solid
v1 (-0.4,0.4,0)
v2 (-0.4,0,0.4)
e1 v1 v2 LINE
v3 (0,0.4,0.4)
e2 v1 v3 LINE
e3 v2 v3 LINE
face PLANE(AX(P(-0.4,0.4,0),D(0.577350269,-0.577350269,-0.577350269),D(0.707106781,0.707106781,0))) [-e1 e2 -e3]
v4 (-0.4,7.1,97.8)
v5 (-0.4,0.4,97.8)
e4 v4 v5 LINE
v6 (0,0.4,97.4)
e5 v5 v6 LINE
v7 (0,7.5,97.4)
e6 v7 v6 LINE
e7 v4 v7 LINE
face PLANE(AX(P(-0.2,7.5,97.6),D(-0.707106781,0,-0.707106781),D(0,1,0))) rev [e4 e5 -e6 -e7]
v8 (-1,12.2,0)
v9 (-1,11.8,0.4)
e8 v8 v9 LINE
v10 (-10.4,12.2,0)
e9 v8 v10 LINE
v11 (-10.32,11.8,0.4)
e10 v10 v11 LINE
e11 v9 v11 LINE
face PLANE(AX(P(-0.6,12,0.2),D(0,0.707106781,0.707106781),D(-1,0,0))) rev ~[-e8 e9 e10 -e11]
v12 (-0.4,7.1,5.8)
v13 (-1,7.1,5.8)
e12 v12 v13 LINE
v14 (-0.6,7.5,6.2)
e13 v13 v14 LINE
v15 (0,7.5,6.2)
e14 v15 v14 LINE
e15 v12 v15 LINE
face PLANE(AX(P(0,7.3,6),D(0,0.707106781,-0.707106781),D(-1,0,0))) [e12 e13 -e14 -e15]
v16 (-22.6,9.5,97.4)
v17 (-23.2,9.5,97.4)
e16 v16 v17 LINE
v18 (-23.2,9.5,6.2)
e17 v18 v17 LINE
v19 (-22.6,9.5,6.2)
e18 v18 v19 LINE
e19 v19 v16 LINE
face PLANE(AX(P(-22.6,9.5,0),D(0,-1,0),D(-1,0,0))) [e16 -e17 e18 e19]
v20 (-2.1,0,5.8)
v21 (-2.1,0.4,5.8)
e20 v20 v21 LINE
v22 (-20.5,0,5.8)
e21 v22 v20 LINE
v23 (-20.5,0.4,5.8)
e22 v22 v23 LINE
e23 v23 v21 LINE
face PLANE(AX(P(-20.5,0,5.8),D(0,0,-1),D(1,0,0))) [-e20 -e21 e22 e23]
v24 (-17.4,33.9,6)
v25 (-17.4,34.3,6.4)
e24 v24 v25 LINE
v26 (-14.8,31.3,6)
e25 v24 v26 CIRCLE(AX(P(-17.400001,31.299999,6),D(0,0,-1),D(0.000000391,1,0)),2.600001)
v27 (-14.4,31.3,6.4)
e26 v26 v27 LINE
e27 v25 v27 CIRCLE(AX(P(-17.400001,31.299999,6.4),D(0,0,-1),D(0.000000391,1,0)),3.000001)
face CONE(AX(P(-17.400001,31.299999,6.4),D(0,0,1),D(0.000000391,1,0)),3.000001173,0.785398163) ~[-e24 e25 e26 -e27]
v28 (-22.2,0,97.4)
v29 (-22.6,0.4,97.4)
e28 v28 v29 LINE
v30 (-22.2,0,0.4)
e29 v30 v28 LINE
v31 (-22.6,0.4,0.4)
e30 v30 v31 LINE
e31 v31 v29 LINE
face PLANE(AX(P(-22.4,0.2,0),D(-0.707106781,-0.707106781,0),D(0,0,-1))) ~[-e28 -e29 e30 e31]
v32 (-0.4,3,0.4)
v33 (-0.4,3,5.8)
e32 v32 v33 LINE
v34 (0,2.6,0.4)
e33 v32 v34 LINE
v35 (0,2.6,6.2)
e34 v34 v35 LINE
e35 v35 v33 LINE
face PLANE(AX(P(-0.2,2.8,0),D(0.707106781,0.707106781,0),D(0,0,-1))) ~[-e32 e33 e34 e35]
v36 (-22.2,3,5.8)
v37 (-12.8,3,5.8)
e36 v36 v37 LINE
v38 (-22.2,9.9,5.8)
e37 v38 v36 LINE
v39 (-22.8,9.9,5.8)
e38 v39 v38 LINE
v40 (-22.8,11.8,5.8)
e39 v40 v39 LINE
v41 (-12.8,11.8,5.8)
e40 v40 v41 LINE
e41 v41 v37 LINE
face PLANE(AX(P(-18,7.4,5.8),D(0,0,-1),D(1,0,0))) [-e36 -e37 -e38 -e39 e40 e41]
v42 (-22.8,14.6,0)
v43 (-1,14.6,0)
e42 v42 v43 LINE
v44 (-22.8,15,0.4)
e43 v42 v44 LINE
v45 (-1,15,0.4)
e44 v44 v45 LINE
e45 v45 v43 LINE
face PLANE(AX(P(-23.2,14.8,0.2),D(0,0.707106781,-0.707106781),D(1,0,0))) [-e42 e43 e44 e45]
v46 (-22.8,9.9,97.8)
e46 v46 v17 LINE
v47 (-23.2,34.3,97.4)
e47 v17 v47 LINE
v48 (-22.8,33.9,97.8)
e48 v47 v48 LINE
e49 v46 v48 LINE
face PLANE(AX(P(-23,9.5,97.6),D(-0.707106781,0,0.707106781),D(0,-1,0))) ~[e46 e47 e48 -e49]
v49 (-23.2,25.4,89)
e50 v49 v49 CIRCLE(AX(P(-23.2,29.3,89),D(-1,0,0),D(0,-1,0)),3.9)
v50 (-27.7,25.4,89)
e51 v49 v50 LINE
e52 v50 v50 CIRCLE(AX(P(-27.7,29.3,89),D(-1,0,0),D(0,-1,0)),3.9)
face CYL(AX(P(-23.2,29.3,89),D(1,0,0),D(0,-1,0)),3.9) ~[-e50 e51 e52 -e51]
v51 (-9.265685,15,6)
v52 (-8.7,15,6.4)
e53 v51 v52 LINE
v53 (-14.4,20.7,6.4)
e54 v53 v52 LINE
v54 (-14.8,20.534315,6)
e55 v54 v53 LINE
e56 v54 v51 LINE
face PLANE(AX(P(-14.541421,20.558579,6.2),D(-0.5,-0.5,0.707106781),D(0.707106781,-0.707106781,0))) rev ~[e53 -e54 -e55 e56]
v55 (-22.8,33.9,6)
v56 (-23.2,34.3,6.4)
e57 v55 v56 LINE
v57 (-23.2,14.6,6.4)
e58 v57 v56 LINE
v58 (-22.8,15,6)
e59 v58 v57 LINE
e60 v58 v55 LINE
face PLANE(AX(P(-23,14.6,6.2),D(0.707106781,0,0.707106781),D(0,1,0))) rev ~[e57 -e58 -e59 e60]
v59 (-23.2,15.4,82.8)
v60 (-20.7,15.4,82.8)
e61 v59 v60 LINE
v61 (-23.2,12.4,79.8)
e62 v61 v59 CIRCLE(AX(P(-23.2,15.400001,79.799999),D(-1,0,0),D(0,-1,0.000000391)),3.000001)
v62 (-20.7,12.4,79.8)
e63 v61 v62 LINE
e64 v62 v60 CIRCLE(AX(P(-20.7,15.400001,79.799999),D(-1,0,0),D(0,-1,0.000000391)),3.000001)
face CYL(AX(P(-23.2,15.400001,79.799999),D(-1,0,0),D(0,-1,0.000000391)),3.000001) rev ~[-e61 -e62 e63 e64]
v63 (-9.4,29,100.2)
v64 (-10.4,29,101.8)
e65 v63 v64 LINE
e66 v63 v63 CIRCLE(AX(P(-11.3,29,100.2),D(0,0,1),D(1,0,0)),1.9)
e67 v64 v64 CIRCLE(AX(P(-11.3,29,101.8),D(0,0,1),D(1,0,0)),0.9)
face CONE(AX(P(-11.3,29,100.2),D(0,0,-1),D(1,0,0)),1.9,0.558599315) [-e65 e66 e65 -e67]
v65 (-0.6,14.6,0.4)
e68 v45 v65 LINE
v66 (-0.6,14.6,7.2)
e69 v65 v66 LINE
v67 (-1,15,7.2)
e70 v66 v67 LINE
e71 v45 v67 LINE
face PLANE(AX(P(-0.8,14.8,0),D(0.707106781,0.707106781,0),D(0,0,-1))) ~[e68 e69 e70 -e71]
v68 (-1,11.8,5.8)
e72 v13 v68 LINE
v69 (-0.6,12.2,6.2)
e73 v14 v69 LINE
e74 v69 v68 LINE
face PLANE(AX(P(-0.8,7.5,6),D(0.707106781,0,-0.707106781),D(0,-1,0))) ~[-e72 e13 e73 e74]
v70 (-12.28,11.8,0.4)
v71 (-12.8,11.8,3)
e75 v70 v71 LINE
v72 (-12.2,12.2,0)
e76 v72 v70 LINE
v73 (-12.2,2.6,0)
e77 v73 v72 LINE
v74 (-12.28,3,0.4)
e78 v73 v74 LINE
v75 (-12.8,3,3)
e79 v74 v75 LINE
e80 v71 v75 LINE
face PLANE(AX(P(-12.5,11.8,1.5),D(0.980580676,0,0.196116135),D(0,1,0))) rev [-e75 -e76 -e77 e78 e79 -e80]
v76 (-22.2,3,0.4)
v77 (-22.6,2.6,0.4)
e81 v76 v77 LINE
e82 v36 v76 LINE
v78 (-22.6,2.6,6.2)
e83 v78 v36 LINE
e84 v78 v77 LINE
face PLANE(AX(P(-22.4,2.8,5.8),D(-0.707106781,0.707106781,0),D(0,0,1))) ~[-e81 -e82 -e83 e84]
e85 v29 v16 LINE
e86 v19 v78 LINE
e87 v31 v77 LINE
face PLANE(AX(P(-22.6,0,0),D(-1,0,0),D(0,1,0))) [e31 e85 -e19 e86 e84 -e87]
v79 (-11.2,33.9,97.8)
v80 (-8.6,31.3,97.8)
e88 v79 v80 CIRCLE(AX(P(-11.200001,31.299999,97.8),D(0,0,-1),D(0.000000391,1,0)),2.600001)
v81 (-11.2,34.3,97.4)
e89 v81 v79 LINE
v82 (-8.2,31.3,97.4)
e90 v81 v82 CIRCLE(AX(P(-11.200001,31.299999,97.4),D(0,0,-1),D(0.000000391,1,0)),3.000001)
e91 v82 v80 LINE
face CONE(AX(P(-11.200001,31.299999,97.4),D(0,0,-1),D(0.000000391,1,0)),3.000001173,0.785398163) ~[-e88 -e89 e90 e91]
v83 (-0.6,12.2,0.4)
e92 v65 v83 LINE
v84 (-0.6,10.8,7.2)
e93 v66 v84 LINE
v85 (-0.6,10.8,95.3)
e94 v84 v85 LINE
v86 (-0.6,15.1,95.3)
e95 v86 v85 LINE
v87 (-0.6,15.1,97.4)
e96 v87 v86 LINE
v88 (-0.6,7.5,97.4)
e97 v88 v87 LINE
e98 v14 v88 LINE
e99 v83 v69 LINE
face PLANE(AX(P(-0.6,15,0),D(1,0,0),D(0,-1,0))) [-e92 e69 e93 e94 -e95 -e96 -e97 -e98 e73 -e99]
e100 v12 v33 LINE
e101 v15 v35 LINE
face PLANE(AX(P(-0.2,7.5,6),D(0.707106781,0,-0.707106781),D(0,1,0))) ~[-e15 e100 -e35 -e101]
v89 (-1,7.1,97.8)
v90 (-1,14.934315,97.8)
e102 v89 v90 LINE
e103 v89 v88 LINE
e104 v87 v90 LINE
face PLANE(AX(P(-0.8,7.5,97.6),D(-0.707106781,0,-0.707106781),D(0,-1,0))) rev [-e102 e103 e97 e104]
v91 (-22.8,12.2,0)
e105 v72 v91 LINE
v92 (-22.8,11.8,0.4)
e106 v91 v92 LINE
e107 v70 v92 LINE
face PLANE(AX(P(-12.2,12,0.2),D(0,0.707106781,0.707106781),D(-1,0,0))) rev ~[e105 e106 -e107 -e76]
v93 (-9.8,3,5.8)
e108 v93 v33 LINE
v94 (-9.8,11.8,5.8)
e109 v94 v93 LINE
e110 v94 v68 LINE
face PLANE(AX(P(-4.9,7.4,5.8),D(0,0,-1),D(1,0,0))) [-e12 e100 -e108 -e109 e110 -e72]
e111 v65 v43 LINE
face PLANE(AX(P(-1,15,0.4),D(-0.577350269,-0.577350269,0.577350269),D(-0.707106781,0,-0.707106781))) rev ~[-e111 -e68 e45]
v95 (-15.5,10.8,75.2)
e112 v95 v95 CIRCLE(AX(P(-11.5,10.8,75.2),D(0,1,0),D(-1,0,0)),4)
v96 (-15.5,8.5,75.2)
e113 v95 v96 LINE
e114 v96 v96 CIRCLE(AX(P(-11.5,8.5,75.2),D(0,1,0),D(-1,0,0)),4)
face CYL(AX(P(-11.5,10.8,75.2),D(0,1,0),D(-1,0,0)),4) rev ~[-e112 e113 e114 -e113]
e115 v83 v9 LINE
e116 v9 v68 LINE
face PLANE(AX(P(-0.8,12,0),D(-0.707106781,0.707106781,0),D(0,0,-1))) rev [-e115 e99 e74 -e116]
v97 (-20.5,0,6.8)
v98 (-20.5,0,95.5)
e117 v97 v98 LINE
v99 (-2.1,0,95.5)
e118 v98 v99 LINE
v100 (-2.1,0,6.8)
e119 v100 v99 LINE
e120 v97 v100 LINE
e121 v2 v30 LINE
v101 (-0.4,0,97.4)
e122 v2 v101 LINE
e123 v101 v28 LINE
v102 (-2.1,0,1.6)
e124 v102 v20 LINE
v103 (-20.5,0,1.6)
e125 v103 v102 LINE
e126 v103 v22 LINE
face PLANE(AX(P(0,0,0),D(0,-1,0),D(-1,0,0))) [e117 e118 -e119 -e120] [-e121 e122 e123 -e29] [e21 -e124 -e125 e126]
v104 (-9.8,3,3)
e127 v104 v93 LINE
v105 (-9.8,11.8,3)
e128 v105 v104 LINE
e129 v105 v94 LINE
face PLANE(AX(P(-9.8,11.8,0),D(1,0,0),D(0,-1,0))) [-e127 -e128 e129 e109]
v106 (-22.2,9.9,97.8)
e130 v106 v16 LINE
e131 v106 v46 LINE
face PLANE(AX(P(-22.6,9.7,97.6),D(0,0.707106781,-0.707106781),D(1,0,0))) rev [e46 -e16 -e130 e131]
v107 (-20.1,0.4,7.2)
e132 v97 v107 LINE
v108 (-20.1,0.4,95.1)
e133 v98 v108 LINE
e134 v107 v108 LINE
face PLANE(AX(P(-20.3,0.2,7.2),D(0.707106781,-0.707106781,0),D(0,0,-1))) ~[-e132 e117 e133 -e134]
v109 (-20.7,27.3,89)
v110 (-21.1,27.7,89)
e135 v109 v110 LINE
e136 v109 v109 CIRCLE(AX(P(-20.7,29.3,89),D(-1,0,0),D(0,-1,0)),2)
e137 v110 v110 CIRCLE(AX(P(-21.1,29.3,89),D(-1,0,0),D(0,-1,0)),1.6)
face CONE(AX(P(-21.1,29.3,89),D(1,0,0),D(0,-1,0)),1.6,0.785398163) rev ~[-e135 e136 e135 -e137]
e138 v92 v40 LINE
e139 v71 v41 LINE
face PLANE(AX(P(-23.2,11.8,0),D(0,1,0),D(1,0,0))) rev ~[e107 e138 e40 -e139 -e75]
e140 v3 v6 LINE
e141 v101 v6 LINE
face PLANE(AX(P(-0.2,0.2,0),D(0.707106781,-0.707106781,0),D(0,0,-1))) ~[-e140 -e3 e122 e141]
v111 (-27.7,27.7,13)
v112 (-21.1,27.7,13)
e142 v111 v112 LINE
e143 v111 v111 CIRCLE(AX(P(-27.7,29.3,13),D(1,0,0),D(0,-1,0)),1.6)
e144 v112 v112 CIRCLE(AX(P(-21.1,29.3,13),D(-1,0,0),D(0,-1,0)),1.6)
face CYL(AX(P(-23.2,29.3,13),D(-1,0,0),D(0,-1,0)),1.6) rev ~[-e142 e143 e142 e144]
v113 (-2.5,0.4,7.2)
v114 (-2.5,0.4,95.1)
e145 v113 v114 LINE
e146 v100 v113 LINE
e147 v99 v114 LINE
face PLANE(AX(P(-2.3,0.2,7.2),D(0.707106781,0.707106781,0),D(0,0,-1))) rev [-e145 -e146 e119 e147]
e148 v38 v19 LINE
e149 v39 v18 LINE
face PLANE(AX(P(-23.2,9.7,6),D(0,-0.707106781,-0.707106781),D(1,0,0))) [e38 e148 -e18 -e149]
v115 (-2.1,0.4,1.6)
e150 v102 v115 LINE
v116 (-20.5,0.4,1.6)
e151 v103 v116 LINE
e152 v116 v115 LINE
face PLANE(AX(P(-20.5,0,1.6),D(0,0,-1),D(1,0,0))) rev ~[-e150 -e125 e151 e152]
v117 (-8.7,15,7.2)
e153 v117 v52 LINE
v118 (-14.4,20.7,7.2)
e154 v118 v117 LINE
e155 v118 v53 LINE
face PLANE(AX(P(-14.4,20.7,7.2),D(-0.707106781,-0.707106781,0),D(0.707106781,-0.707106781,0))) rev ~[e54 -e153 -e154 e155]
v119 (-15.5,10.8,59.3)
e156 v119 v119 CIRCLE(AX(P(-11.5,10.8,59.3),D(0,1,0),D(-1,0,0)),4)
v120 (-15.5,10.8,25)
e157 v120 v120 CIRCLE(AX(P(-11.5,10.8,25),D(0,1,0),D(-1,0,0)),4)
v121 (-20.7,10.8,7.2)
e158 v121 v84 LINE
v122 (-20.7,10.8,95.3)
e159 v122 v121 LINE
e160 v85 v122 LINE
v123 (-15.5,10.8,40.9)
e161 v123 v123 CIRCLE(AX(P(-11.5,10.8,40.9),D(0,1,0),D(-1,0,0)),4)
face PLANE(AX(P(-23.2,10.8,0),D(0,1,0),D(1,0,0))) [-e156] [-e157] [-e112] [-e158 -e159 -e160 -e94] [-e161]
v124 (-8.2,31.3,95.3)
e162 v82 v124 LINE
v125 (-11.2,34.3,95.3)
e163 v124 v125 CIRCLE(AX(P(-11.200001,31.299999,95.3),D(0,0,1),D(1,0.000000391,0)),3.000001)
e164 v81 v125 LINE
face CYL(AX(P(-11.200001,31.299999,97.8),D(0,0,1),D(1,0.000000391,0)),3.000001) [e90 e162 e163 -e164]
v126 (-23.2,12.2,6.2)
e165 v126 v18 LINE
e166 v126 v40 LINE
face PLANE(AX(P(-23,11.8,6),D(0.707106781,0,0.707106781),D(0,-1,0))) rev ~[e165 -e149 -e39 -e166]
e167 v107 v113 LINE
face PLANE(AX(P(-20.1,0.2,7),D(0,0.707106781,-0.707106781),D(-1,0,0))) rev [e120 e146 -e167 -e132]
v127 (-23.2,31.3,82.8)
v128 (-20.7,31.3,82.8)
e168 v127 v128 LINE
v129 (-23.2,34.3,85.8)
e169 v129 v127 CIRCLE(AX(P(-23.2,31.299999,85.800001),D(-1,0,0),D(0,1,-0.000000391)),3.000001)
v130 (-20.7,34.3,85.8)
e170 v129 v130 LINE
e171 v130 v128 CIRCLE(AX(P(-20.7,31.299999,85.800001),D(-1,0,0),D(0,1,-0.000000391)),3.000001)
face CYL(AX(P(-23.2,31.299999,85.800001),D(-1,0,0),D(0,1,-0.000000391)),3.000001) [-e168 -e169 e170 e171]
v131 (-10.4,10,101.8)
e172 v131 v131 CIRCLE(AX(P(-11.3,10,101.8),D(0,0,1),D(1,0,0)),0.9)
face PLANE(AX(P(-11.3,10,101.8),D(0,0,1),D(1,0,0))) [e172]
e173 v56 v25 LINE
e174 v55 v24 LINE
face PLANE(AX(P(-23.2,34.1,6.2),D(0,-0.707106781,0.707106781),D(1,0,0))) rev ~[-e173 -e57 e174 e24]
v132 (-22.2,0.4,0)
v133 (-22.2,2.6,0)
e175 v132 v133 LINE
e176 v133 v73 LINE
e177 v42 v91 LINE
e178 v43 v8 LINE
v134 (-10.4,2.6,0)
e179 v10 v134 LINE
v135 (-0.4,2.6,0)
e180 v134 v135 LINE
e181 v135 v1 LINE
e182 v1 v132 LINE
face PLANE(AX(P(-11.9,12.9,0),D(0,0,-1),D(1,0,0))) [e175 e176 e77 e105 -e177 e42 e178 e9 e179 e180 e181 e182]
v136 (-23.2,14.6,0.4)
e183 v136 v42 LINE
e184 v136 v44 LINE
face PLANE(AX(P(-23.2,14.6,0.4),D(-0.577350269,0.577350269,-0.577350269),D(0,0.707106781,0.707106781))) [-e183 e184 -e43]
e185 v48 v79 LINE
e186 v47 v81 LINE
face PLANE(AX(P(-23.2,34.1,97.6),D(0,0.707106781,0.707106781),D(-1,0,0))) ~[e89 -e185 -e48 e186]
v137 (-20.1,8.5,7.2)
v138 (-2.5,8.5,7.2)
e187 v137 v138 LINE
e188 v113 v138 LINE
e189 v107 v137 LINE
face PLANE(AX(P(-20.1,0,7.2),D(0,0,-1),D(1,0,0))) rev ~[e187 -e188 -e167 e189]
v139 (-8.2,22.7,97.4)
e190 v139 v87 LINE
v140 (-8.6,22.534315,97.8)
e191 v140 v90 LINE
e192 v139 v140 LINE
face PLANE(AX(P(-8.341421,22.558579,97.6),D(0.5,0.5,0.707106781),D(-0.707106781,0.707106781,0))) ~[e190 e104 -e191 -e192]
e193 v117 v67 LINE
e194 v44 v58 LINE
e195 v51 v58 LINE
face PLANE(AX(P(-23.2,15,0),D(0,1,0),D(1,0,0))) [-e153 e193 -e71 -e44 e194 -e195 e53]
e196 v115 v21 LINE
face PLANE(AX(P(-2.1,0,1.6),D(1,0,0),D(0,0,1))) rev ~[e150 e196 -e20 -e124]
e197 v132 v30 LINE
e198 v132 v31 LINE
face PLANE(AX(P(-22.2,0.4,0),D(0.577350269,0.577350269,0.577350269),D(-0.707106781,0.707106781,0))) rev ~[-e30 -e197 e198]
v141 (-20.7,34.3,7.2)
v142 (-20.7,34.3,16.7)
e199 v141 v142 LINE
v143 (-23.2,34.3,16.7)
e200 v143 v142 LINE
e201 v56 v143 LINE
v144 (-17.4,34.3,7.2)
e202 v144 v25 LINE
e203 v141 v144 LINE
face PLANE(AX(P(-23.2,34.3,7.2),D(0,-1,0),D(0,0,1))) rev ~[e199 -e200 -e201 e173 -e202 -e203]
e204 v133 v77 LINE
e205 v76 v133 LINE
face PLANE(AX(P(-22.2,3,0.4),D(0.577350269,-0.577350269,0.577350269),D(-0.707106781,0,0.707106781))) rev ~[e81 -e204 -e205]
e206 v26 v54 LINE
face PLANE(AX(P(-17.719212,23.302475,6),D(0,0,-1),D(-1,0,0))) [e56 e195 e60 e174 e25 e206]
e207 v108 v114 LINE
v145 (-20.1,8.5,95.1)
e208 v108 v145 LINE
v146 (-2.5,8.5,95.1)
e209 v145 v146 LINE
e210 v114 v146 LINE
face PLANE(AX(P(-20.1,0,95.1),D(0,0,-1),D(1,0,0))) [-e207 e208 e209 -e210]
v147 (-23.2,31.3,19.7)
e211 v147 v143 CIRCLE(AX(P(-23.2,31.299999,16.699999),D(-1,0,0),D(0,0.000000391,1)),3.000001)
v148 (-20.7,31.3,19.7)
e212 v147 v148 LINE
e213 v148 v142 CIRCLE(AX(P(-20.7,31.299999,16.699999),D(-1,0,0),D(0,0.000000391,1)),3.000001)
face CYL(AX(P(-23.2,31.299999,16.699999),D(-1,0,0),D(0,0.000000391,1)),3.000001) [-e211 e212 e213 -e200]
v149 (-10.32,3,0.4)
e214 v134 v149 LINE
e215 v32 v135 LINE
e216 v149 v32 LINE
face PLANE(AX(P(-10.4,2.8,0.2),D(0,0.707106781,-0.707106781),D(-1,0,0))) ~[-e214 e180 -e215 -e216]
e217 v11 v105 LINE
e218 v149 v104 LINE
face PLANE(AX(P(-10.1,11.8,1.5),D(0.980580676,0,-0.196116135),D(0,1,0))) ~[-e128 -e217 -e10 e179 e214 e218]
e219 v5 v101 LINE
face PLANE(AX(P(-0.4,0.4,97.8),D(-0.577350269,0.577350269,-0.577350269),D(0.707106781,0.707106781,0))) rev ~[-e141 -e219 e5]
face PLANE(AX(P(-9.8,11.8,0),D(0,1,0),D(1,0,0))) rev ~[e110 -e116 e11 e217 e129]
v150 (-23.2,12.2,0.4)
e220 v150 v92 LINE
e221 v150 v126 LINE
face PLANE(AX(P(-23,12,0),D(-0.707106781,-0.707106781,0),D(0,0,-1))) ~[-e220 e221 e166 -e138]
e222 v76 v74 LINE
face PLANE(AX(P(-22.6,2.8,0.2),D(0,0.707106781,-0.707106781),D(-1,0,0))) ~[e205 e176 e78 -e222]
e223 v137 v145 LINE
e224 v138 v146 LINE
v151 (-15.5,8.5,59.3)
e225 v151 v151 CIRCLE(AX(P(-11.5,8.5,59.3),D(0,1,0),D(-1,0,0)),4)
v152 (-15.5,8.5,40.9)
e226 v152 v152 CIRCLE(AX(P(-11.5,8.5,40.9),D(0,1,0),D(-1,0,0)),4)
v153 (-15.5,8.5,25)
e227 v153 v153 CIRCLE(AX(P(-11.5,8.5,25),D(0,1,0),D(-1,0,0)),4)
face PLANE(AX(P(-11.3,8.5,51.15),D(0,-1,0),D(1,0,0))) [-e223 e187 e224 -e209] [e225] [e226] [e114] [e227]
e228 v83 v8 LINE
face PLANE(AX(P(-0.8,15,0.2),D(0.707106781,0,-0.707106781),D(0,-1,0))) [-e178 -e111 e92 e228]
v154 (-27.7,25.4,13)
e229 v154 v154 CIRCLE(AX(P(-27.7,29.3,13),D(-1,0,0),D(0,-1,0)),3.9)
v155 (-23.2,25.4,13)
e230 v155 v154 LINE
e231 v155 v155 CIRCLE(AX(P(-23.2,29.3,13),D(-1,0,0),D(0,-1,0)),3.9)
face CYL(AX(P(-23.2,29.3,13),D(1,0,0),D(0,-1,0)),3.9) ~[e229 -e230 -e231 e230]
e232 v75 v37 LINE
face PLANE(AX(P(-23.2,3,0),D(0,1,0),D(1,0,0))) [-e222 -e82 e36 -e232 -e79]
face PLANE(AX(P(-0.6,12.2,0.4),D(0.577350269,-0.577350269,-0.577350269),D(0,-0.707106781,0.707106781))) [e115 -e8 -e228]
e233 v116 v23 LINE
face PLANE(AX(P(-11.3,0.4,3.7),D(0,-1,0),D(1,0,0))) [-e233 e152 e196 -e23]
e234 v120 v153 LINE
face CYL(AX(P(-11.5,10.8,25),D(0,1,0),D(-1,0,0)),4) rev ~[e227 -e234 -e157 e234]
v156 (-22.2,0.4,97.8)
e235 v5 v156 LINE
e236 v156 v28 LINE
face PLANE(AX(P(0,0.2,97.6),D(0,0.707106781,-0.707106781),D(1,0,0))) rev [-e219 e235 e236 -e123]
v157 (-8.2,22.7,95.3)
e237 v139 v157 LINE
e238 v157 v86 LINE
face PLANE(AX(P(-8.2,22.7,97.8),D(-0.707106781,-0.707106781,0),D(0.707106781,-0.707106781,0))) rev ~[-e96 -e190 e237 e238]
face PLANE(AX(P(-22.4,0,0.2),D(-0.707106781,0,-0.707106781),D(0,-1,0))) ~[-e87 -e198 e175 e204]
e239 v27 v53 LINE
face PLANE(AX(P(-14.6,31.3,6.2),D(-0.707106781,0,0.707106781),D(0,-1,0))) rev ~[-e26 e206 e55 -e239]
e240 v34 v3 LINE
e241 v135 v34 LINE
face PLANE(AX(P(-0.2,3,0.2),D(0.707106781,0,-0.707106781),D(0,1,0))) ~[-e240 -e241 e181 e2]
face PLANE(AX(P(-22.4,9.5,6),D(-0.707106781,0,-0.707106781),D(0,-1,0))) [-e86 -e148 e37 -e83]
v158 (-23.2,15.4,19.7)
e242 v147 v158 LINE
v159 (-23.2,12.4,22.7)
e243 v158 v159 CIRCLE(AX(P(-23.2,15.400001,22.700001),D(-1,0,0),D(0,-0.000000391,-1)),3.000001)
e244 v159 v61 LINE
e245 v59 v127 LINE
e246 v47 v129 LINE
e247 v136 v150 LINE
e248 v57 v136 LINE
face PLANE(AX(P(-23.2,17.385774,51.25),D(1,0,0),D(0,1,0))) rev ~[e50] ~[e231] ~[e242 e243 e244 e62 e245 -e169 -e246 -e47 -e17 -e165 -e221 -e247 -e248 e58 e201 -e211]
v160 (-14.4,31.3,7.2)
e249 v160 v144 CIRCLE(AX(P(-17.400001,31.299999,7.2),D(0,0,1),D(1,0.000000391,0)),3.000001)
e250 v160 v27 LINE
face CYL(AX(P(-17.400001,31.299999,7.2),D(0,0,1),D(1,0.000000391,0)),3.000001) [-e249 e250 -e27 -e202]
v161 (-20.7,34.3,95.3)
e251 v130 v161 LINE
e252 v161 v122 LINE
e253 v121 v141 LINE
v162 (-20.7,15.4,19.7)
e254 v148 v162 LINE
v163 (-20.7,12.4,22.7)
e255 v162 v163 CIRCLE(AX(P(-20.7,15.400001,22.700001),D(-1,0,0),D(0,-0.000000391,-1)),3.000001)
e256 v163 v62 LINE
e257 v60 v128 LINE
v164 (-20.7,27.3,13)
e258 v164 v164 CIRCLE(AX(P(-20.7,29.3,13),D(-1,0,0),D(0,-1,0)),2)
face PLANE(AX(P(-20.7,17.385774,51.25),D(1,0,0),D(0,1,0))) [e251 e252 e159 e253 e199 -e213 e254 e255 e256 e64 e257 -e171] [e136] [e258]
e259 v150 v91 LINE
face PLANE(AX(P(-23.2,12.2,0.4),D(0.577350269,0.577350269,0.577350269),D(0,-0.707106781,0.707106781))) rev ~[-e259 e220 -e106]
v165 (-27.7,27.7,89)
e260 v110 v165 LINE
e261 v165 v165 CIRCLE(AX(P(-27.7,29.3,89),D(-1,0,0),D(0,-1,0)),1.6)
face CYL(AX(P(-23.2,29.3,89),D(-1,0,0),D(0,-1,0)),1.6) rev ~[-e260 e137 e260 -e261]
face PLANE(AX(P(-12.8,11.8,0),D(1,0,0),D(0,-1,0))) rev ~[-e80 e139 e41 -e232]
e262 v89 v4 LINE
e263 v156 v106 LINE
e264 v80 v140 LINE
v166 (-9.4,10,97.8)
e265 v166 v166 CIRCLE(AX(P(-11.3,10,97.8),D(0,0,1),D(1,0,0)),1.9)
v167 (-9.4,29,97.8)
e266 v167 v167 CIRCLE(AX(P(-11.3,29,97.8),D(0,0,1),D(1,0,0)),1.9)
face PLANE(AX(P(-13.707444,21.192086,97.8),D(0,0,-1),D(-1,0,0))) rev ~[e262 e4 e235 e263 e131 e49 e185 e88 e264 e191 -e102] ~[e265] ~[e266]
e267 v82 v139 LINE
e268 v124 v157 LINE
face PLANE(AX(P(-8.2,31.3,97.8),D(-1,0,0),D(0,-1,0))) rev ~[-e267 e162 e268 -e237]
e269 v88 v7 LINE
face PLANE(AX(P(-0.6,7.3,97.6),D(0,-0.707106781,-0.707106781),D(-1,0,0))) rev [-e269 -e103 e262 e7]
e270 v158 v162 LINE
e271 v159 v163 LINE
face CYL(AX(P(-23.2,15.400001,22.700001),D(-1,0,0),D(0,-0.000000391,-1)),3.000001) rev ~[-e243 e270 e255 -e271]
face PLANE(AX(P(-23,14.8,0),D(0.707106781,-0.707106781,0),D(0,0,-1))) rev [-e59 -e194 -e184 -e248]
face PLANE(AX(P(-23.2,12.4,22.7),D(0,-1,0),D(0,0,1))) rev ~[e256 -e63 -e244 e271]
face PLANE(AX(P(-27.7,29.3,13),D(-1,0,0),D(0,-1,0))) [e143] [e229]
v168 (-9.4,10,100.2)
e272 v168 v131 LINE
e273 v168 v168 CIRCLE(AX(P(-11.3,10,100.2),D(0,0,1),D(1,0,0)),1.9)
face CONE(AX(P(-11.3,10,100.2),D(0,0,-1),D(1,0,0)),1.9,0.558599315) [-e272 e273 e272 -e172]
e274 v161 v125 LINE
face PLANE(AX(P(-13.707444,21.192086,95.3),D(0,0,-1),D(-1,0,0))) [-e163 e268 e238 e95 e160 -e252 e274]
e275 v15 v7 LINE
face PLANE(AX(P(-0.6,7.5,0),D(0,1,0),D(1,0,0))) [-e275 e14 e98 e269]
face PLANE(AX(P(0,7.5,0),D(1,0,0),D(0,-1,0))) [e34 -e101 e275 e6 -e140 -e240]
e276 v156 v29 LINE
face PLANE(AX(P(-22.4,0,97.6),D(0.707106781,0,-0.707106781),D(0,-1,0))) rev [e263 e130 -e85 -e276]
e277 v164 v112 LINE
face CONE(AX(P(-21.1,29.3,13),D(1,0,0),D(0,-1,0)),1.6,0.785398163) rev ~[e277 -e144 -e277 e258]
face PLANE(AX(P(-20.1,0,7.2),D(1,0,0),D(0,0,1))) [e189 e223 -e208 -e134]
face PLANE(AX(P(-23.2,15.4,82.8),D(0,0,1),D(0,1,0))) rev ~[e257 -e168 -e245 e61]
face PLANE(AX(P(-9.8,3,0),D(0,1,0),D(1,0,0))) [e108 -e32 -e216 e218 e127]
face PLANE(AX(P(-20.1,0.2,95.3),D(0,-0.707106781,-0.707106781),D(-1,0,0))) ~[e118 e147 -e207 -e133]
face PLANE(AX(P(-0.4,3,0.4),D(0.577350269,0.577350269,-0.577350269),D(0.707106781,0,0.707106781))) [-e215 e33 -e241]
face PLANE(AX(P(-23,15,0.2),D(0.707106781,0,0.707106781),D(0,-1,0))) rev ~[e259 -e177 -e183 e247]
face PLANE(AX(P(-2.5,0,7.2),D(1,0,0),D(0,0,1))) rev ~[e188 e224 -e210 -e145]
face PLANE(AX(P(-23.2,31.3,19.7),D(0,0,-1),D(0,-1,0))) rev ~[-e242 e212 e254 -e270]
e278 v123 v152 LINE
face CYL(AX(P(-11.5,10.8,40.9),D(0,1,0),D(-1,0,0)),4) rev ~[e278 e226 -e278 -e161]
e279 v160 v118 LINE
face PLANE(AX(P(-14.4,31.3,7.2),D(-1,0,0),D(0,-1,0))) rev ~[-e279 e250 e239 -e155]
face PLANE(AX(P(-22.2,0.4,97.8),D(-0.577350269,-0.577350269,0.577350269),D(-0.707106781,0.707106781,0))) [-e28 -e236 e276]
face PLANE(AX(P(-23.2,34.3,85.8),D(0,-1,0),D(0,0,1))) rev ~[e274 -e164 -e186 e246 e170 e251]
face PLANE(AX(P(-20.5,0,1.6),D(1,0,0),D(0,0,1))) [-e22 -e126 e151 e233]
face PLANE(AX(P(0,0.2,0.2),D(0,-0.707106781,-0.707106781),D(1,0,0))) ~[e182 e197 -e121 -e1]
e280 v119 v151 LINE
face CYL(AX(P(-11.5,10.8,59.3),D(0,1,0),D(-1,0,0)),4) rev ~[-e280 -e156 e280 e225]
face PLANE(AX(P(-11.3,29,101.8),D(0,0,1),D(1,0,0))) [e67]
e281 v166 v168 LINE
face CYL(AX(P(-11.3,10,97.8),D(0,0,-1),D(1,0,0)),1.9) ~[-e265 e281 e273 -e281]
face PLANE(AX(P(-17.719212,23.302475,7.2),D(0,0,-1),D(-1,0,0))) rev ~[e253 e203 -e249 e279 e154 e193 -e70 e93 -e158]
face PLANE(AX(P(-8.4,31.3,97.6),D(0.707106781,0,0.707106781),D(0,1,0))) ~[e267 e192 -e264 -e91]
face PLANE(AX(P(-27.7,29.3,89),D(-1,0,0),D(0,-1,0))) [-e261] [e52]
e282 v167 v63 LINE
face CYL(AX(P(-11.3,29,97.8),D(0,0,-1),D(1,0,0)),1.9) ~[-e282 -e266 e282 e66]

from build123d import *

# Parameters (mm, degrees)
PAD_DEPTH          = 97.8
PAD001_DEPTH       = 2.5
SKETCH002_W        = 22.6
SKETCH002_H        = 4.2
PAD002_DEPTH       = 7.2
PAD003_DEPTH       = 1.2
PAD004_DEPTH       = 2.5
SKETCH005_W        = 10.4
SKETCH005_H        = 8.8
SKETCH005_W_2      = 9.8
POCKET_DEPTH       = 5.8
CHAMFER_SIZE2      = 3
CHAMFER_SIZE       = 0.6
CHAMFER001_SIZE2   = 3
CHAMFER001_SIZE    = 0.6
SKETCH006_R        = 3.9
PAD005_DEPTH       = 4.5
SKETCH007_R        = 1.6
POCKET001_DEPTH    = 5
SKETCH008_R        = 1.9
PAD006_DEPTH       = 4
CHAMFER002_1_SIZE2 = 1
CHAMFER002_1_SIZE  = 1.6
CHAMFER002_2_SIZE2 = 1
CHAMFER002_2_SIZE  = 1.6
SKETCH009_W        = 18.4
SKETCH009_H        = 4.2
POCKET002_DEPTH    = 0.4
SKETCH010_W        = 17.6
SKETCH010_H        = 87.9
POCKET003_DEPTH    = 8.5
CHAMFER003_SIZE    = 0.4
CHAMFER004_SIZE    = 0.4
CHAMFER005_SIZE    = 0.4
SKETCH011_R        = 4
POCKET004_DEPTH    = 5


with BuildPart() as part:
    # Sketch → Pad (new body)
    with BuildSketch(Plane.XY):
        Polygon((-22.6, 0), (-22.6, 9.5), (-23.2, 9.5), (-23.2, 10.8), (-0.6, 10.8), (-0.6, 7.5), (0, 7.5), (0, 0), align=None)
    extrude(amount=PAD_DEPTH)

    # Sketch001 (on Face10 of Pad) → Pad001 (join)
    with BuildSketch(Plane.XY.offset(97.8)):
        with BuildLine():
            Line((-23.2, 10.8), (-23.2, 34.3))
            Line((-23.2, 34.3), (-11.2, 34.3))
            ThreePointArc((-8.2, 31.3), (-9.07868, 33.42132), (-11.2, 34.3))
            Line((-8.2, 31.3), (-8.2, 22.7))
            Line((-8.2, 22.7), (-0.6, 15.1))
            Line((-0.6, 15.1), (-0.6, 10.8))
            Line((-0.6, 10.8), (-23.2, 10.8))
        make_face()
    extrude(amount=-PAD001_DEPTH)

    # Sketch002 (on Face4 of Pad001) → Pad002 (join)
    with BuildSketch(Plane(origin=(0, 0, 0), x_dir=(1, 0, 0), z_dir=(0, 0, -1))):
        with Locations((-11.9, -12.9)):
            Rectangle(SKETCH002_W, SKETCH002_H)
    extrude(amount=-PAD002_DEPTH)

    # Sketch003 (on Face22 of Pad002) → Pad003 (join)
    with BuildSketch(Plane.XY.offset(7.2)):
        with BuildLine():
            Line((-23.2, 15), (-23.2, 34.3))
            Line((-23.2, 34.3), (-17.4, 34.3))
            ThreePointArc((-14.4, 31.3), (-15.27868, 33.42132), (-17.4, 34.3))
            Line((-14.4, 31.3), (-14.4, 20.7))
            Line((-14.4, 20.7), (-8.7, 15))
            Line((-8.7, 15), (-23.2, 15))
        make_face()
    extrude(amount=-PAD003_DEPTH)

    # Sketch004 (on Face7 of Pad003) → Pad004 (join)
    with BuildSketch(Plane(origin=(-23.2, 0, 0), x_dir=(0, -1, 0), z_dir=(-1, 0, 0))):
        with BuildLine():
            Line((-34.3, 7.2), (-34.3, 16.7))
            ThreePointArc((-31.3, 19.7), (-33.42132, 18.82132), (-34.3, 16.7))
            Line((-31.3, 19.7), (-15.4, 19.7))
            ThreePointArc((-15.4, 19.7), (-13.27868, 20.57868), (-12.4, 22.7))
            Line((-12.4, 22.7), (-12.4, 79.8))
            ThreePointArc((-12.4, 79.8), (-13.27868, 81.92132), (-15.4, 82.8))
            Line((-15.4, 82.8), (-31.3, 82.8))
            ThreePointArc((-34.3, 85.8), (-33.42132, 83.67868), (-31.3, 82.8))
            Line((-34.3, 85.8), (-34.3, 95.3))
            Line((-34.3, 95.3), (-10.8, 95.3))
            Line((-10.8, 95.3), (-10.8, 7.2))
            Line((-10.8, 7.2), (-34.3, 7.2))
        make_face()
    extrude(amount=-PAD004_DEPTH)

    # Sketch005 (on Face4 of Pad004) → Pocket (cut)
    with BuildSketch(Plane(origin=(0, 0, 0), x_dir=(1, 0, 0), z_dir=(0, 0, -1))):
        with Locations((-18, -7.4)):
            Rectangle(SKETCH005_W, SKETCH005_H)
        with Locations((-4.9, -7.4)):
            Rectangle(SKETCH005_W_2, SKETCH005_H)
    extrude(amount=-POCKET_DEPTH, mode=Mode.SUBTRACT)

    # Chamfer
    chamfer_edges = [part.edges().sort_by_distance(p)[0] for p in [
        (-9.8, 6.9, 0),
    ]]
    chamfer_side = part.faces().sort_by_distance((-11.3, 2.885526, 0))[0]
    chamfer(chamfer_edges, length=CHAMFER_SIZE, length2=CHAMFER_SIZE2, reference=chamfer_side)

    # Chamfer001
    chamfer001_edges = [part.edges().sort_by_distance(p)[0] for p in [
        (-12.8, 6.9, 0),
    ]]
    chamfer001_side = part.faces().sort_by_distance((-11.36491, 2.668377, 0))[0]
    chamfer(chamfer001_edges, length=CHAMFER001_SIZE, length2=CHAMFER001_SIZE2, reference=chamfer001_side)

    # Sketch006 (on Face25 of Chamfer001) → Pad005 (join)
    with BuildSketch(Plane(origin=(-23.2, 0, 0), x_dir=(0, -1, 0), z_dir=(-1, 0, 0))):
        with Locations((-29.3, 89)):
            Circle(SKETCH006_R)
        with Locations((-29.3, 13)):
            Circle(SKETCH006_R)
    extrude(amount=PAD005_DEPTH)

    # Sketch007 (on Face25 of Pad005) → Pocket001 (cut, symmetric)
    with BuildSketch(Plane(origin=(-23.2, 0, 0), x_dir=(0, -1, 0), z_dir=(-1, 0, 0))):
        with Locations((-29.3, 13)):
            Circle(SKETCH007_R)
        with Locations((-29.3, 89)):
            Circle(SKETCH007_R)
    extrude(amount=POCKET001_DEPTH, both=True, mode=Mode.SUBTRACT)

    # Sketch008 (on Face22 of Pocket001) → Pad006 (join)
    with BuildSketch(Plane.XY.offset(97.8)):
        with Locations((-11.3, 10)):
            Circle(SKETCH008_R)
        with Locations((-11.3, 29)):
            Circle(SKETCH008_R)
    extrude(amount=PAD006_DEPTH)

    # Chamfer002 1
    chamfer002_1_edges = [part.edges().sort_by_distance(p)[0] for p in [
        (-13.2, 29, 101.8),
    ]]
    chamfer002_1_side = part.faces().sort_by_distance((-13.2, 29, 99.8))[0]
    chamfer(chamfer002_1_edges, length=CHAMFER002_1_SIZE, length2=CHAMFER002_1_SIZE2, reference=chamfer002_1_side)

    # Chamfer002 2
    chamfer002_2_edges = [part.edges().sort_by_distance(p)[0] for p in [
        (-13.2, 10, 101.8),
    ]]
    chamfer002_2_side = part.faces().sort_by_distance((-13.2, 10, 99.8))[0]
    chamfer(chamfer002_2_edges, length=CHAMFER002_2_SIZE, length2=CHAMFER002_2_SIZE2, reference=chamfer002_2_side)

    # Sketch009 (on Face12 of Chamfer002) → Pocket002 (cut)
    with BuildSketch(Plane.XZ):
        with Locations((-11.3, 3.7)):
            Rectangle(SKETCH009_W, SKETCH009_H)
    extrude(amount=-POCKET002_DEPTH, mode=Mode.SUBTRACT)

    # Sketch010 (on Face12 of Pocket002) → Pocket003 (cut)
    with BuildSketch(Plane.XZ):
        with Locations((-11.3, 51.15)):
            Rectangle(SKETCH010_W, SKETCH010_H)
    extrude(amount=-POCKET003_DEPTH, mode=Mode.SUBTRACT)

    # Chamfer003
    chamfer003_edges = [part.edges().sort_by_distance(p)[0] for p in [
        (-20.7, 30.9, 13),
        (-20.7, 30.9, 89),
    ]]
    chamfer(chamfer003_edges, length=CHAMFER003_SIZE)

    # Chamfer004
    chamfer004_edges = [part.edges().sort_by_distance(p)[0] for p in [
        (-22.6, 0, 48.9),
        (0, 0, 48.9),
        (-20.1, 0, 51.15),
        (-11.3, 0, 95.1),
        (-2.5, 0, 51.15),
        (-11.3, 0, 7.2),
        (-11.3, 0, 0),
        (0, 1.5, 0),
        (-22.6, 1.5, 0),
        (-17.7, 3, 0),
        (-4.9, 3, 0),
        (-5.2, 11.8, 0),
        (-0.6, 13.4, 0),
        (-0.6, 15, 3.6),
        (-11.9, 15, 0),
        (-18, 11.8, 0),
        (-23.2, 13.4, 0),
        (-23.2, 15, 3),
        (-11.3, 0, 97.8),
        (-22.6, 4.75, 97.8),
        (-22.9, 9.5, 97.8),
        (-23.2, 10.15, 97.8),
        (-23.2, 22.55, 97.8),
        (0, 3.75, 97.8),
        (-0.3, 7.5, 97.8),
        (-0.6, 9.15, 97.8),
        (-0.6, 12.95, 97.8),
        (-4.4, 18.9, 97.8),
        (-8.2, 27, 97.8),
        (0, 3, 2.9),
        (0, 5.25, 5.8),
        (-0.3, 7.5, 5.8),
        (-0.6, 9.15, 5.8),
        (-0.6, 11.3, 5.8),
        (-0.6, 11.8, 2.9),
        (-22.6, 3, 2.9),
        (-22.6, 6.25, 5.8),
        (-22.9, 9.5, 5.8),
        (-23.2, 10.15, 5.8),
        (-23.2, 11.3, 5.8),
        (-23.2, 11.8, 2.9),
    ]]
    chamfer(chamfer004_edges, length=CHAMFER004_SIZE)

    # Chamfer005
    chamfer005_edges = [part.edges().sort_by_distance(p)[0] for p in [
        (-11.55, 17.85, 6),
        (-14.4, 26, 6),
        (-15.27868, 33.42132, 6),
        (-20.3, 34.3, 6),
        (-23.2, 24.65, 6),
    ]]
    chamfer(chamfer005_edges, length=CHAMFER005_SIZE)

    # Sketch011 (on Face22 of Chamfer005) → Pocket004 (cut)
    with BuildSketch(Plane(origin=(0, 10.8, 0), x_dir=(-1, 0, 0), z_dir=(0, 1, 0))):
        with Locations((11.5, 25)):
            Circle(SKETCH011_R)
        with Locations((11.5, 40.9)):
            Circle(SKETCH011_R)
        with Locations((11.5, 59.3)):
            Circle(SKETCH011_R)
        with Locations((11.5, 75.2)):
            Circle(SKETCH011_R)
    extrude(amount=-POCKET004_DEPTH, mode=Mode.SUBTRACT)


solid = part.part
